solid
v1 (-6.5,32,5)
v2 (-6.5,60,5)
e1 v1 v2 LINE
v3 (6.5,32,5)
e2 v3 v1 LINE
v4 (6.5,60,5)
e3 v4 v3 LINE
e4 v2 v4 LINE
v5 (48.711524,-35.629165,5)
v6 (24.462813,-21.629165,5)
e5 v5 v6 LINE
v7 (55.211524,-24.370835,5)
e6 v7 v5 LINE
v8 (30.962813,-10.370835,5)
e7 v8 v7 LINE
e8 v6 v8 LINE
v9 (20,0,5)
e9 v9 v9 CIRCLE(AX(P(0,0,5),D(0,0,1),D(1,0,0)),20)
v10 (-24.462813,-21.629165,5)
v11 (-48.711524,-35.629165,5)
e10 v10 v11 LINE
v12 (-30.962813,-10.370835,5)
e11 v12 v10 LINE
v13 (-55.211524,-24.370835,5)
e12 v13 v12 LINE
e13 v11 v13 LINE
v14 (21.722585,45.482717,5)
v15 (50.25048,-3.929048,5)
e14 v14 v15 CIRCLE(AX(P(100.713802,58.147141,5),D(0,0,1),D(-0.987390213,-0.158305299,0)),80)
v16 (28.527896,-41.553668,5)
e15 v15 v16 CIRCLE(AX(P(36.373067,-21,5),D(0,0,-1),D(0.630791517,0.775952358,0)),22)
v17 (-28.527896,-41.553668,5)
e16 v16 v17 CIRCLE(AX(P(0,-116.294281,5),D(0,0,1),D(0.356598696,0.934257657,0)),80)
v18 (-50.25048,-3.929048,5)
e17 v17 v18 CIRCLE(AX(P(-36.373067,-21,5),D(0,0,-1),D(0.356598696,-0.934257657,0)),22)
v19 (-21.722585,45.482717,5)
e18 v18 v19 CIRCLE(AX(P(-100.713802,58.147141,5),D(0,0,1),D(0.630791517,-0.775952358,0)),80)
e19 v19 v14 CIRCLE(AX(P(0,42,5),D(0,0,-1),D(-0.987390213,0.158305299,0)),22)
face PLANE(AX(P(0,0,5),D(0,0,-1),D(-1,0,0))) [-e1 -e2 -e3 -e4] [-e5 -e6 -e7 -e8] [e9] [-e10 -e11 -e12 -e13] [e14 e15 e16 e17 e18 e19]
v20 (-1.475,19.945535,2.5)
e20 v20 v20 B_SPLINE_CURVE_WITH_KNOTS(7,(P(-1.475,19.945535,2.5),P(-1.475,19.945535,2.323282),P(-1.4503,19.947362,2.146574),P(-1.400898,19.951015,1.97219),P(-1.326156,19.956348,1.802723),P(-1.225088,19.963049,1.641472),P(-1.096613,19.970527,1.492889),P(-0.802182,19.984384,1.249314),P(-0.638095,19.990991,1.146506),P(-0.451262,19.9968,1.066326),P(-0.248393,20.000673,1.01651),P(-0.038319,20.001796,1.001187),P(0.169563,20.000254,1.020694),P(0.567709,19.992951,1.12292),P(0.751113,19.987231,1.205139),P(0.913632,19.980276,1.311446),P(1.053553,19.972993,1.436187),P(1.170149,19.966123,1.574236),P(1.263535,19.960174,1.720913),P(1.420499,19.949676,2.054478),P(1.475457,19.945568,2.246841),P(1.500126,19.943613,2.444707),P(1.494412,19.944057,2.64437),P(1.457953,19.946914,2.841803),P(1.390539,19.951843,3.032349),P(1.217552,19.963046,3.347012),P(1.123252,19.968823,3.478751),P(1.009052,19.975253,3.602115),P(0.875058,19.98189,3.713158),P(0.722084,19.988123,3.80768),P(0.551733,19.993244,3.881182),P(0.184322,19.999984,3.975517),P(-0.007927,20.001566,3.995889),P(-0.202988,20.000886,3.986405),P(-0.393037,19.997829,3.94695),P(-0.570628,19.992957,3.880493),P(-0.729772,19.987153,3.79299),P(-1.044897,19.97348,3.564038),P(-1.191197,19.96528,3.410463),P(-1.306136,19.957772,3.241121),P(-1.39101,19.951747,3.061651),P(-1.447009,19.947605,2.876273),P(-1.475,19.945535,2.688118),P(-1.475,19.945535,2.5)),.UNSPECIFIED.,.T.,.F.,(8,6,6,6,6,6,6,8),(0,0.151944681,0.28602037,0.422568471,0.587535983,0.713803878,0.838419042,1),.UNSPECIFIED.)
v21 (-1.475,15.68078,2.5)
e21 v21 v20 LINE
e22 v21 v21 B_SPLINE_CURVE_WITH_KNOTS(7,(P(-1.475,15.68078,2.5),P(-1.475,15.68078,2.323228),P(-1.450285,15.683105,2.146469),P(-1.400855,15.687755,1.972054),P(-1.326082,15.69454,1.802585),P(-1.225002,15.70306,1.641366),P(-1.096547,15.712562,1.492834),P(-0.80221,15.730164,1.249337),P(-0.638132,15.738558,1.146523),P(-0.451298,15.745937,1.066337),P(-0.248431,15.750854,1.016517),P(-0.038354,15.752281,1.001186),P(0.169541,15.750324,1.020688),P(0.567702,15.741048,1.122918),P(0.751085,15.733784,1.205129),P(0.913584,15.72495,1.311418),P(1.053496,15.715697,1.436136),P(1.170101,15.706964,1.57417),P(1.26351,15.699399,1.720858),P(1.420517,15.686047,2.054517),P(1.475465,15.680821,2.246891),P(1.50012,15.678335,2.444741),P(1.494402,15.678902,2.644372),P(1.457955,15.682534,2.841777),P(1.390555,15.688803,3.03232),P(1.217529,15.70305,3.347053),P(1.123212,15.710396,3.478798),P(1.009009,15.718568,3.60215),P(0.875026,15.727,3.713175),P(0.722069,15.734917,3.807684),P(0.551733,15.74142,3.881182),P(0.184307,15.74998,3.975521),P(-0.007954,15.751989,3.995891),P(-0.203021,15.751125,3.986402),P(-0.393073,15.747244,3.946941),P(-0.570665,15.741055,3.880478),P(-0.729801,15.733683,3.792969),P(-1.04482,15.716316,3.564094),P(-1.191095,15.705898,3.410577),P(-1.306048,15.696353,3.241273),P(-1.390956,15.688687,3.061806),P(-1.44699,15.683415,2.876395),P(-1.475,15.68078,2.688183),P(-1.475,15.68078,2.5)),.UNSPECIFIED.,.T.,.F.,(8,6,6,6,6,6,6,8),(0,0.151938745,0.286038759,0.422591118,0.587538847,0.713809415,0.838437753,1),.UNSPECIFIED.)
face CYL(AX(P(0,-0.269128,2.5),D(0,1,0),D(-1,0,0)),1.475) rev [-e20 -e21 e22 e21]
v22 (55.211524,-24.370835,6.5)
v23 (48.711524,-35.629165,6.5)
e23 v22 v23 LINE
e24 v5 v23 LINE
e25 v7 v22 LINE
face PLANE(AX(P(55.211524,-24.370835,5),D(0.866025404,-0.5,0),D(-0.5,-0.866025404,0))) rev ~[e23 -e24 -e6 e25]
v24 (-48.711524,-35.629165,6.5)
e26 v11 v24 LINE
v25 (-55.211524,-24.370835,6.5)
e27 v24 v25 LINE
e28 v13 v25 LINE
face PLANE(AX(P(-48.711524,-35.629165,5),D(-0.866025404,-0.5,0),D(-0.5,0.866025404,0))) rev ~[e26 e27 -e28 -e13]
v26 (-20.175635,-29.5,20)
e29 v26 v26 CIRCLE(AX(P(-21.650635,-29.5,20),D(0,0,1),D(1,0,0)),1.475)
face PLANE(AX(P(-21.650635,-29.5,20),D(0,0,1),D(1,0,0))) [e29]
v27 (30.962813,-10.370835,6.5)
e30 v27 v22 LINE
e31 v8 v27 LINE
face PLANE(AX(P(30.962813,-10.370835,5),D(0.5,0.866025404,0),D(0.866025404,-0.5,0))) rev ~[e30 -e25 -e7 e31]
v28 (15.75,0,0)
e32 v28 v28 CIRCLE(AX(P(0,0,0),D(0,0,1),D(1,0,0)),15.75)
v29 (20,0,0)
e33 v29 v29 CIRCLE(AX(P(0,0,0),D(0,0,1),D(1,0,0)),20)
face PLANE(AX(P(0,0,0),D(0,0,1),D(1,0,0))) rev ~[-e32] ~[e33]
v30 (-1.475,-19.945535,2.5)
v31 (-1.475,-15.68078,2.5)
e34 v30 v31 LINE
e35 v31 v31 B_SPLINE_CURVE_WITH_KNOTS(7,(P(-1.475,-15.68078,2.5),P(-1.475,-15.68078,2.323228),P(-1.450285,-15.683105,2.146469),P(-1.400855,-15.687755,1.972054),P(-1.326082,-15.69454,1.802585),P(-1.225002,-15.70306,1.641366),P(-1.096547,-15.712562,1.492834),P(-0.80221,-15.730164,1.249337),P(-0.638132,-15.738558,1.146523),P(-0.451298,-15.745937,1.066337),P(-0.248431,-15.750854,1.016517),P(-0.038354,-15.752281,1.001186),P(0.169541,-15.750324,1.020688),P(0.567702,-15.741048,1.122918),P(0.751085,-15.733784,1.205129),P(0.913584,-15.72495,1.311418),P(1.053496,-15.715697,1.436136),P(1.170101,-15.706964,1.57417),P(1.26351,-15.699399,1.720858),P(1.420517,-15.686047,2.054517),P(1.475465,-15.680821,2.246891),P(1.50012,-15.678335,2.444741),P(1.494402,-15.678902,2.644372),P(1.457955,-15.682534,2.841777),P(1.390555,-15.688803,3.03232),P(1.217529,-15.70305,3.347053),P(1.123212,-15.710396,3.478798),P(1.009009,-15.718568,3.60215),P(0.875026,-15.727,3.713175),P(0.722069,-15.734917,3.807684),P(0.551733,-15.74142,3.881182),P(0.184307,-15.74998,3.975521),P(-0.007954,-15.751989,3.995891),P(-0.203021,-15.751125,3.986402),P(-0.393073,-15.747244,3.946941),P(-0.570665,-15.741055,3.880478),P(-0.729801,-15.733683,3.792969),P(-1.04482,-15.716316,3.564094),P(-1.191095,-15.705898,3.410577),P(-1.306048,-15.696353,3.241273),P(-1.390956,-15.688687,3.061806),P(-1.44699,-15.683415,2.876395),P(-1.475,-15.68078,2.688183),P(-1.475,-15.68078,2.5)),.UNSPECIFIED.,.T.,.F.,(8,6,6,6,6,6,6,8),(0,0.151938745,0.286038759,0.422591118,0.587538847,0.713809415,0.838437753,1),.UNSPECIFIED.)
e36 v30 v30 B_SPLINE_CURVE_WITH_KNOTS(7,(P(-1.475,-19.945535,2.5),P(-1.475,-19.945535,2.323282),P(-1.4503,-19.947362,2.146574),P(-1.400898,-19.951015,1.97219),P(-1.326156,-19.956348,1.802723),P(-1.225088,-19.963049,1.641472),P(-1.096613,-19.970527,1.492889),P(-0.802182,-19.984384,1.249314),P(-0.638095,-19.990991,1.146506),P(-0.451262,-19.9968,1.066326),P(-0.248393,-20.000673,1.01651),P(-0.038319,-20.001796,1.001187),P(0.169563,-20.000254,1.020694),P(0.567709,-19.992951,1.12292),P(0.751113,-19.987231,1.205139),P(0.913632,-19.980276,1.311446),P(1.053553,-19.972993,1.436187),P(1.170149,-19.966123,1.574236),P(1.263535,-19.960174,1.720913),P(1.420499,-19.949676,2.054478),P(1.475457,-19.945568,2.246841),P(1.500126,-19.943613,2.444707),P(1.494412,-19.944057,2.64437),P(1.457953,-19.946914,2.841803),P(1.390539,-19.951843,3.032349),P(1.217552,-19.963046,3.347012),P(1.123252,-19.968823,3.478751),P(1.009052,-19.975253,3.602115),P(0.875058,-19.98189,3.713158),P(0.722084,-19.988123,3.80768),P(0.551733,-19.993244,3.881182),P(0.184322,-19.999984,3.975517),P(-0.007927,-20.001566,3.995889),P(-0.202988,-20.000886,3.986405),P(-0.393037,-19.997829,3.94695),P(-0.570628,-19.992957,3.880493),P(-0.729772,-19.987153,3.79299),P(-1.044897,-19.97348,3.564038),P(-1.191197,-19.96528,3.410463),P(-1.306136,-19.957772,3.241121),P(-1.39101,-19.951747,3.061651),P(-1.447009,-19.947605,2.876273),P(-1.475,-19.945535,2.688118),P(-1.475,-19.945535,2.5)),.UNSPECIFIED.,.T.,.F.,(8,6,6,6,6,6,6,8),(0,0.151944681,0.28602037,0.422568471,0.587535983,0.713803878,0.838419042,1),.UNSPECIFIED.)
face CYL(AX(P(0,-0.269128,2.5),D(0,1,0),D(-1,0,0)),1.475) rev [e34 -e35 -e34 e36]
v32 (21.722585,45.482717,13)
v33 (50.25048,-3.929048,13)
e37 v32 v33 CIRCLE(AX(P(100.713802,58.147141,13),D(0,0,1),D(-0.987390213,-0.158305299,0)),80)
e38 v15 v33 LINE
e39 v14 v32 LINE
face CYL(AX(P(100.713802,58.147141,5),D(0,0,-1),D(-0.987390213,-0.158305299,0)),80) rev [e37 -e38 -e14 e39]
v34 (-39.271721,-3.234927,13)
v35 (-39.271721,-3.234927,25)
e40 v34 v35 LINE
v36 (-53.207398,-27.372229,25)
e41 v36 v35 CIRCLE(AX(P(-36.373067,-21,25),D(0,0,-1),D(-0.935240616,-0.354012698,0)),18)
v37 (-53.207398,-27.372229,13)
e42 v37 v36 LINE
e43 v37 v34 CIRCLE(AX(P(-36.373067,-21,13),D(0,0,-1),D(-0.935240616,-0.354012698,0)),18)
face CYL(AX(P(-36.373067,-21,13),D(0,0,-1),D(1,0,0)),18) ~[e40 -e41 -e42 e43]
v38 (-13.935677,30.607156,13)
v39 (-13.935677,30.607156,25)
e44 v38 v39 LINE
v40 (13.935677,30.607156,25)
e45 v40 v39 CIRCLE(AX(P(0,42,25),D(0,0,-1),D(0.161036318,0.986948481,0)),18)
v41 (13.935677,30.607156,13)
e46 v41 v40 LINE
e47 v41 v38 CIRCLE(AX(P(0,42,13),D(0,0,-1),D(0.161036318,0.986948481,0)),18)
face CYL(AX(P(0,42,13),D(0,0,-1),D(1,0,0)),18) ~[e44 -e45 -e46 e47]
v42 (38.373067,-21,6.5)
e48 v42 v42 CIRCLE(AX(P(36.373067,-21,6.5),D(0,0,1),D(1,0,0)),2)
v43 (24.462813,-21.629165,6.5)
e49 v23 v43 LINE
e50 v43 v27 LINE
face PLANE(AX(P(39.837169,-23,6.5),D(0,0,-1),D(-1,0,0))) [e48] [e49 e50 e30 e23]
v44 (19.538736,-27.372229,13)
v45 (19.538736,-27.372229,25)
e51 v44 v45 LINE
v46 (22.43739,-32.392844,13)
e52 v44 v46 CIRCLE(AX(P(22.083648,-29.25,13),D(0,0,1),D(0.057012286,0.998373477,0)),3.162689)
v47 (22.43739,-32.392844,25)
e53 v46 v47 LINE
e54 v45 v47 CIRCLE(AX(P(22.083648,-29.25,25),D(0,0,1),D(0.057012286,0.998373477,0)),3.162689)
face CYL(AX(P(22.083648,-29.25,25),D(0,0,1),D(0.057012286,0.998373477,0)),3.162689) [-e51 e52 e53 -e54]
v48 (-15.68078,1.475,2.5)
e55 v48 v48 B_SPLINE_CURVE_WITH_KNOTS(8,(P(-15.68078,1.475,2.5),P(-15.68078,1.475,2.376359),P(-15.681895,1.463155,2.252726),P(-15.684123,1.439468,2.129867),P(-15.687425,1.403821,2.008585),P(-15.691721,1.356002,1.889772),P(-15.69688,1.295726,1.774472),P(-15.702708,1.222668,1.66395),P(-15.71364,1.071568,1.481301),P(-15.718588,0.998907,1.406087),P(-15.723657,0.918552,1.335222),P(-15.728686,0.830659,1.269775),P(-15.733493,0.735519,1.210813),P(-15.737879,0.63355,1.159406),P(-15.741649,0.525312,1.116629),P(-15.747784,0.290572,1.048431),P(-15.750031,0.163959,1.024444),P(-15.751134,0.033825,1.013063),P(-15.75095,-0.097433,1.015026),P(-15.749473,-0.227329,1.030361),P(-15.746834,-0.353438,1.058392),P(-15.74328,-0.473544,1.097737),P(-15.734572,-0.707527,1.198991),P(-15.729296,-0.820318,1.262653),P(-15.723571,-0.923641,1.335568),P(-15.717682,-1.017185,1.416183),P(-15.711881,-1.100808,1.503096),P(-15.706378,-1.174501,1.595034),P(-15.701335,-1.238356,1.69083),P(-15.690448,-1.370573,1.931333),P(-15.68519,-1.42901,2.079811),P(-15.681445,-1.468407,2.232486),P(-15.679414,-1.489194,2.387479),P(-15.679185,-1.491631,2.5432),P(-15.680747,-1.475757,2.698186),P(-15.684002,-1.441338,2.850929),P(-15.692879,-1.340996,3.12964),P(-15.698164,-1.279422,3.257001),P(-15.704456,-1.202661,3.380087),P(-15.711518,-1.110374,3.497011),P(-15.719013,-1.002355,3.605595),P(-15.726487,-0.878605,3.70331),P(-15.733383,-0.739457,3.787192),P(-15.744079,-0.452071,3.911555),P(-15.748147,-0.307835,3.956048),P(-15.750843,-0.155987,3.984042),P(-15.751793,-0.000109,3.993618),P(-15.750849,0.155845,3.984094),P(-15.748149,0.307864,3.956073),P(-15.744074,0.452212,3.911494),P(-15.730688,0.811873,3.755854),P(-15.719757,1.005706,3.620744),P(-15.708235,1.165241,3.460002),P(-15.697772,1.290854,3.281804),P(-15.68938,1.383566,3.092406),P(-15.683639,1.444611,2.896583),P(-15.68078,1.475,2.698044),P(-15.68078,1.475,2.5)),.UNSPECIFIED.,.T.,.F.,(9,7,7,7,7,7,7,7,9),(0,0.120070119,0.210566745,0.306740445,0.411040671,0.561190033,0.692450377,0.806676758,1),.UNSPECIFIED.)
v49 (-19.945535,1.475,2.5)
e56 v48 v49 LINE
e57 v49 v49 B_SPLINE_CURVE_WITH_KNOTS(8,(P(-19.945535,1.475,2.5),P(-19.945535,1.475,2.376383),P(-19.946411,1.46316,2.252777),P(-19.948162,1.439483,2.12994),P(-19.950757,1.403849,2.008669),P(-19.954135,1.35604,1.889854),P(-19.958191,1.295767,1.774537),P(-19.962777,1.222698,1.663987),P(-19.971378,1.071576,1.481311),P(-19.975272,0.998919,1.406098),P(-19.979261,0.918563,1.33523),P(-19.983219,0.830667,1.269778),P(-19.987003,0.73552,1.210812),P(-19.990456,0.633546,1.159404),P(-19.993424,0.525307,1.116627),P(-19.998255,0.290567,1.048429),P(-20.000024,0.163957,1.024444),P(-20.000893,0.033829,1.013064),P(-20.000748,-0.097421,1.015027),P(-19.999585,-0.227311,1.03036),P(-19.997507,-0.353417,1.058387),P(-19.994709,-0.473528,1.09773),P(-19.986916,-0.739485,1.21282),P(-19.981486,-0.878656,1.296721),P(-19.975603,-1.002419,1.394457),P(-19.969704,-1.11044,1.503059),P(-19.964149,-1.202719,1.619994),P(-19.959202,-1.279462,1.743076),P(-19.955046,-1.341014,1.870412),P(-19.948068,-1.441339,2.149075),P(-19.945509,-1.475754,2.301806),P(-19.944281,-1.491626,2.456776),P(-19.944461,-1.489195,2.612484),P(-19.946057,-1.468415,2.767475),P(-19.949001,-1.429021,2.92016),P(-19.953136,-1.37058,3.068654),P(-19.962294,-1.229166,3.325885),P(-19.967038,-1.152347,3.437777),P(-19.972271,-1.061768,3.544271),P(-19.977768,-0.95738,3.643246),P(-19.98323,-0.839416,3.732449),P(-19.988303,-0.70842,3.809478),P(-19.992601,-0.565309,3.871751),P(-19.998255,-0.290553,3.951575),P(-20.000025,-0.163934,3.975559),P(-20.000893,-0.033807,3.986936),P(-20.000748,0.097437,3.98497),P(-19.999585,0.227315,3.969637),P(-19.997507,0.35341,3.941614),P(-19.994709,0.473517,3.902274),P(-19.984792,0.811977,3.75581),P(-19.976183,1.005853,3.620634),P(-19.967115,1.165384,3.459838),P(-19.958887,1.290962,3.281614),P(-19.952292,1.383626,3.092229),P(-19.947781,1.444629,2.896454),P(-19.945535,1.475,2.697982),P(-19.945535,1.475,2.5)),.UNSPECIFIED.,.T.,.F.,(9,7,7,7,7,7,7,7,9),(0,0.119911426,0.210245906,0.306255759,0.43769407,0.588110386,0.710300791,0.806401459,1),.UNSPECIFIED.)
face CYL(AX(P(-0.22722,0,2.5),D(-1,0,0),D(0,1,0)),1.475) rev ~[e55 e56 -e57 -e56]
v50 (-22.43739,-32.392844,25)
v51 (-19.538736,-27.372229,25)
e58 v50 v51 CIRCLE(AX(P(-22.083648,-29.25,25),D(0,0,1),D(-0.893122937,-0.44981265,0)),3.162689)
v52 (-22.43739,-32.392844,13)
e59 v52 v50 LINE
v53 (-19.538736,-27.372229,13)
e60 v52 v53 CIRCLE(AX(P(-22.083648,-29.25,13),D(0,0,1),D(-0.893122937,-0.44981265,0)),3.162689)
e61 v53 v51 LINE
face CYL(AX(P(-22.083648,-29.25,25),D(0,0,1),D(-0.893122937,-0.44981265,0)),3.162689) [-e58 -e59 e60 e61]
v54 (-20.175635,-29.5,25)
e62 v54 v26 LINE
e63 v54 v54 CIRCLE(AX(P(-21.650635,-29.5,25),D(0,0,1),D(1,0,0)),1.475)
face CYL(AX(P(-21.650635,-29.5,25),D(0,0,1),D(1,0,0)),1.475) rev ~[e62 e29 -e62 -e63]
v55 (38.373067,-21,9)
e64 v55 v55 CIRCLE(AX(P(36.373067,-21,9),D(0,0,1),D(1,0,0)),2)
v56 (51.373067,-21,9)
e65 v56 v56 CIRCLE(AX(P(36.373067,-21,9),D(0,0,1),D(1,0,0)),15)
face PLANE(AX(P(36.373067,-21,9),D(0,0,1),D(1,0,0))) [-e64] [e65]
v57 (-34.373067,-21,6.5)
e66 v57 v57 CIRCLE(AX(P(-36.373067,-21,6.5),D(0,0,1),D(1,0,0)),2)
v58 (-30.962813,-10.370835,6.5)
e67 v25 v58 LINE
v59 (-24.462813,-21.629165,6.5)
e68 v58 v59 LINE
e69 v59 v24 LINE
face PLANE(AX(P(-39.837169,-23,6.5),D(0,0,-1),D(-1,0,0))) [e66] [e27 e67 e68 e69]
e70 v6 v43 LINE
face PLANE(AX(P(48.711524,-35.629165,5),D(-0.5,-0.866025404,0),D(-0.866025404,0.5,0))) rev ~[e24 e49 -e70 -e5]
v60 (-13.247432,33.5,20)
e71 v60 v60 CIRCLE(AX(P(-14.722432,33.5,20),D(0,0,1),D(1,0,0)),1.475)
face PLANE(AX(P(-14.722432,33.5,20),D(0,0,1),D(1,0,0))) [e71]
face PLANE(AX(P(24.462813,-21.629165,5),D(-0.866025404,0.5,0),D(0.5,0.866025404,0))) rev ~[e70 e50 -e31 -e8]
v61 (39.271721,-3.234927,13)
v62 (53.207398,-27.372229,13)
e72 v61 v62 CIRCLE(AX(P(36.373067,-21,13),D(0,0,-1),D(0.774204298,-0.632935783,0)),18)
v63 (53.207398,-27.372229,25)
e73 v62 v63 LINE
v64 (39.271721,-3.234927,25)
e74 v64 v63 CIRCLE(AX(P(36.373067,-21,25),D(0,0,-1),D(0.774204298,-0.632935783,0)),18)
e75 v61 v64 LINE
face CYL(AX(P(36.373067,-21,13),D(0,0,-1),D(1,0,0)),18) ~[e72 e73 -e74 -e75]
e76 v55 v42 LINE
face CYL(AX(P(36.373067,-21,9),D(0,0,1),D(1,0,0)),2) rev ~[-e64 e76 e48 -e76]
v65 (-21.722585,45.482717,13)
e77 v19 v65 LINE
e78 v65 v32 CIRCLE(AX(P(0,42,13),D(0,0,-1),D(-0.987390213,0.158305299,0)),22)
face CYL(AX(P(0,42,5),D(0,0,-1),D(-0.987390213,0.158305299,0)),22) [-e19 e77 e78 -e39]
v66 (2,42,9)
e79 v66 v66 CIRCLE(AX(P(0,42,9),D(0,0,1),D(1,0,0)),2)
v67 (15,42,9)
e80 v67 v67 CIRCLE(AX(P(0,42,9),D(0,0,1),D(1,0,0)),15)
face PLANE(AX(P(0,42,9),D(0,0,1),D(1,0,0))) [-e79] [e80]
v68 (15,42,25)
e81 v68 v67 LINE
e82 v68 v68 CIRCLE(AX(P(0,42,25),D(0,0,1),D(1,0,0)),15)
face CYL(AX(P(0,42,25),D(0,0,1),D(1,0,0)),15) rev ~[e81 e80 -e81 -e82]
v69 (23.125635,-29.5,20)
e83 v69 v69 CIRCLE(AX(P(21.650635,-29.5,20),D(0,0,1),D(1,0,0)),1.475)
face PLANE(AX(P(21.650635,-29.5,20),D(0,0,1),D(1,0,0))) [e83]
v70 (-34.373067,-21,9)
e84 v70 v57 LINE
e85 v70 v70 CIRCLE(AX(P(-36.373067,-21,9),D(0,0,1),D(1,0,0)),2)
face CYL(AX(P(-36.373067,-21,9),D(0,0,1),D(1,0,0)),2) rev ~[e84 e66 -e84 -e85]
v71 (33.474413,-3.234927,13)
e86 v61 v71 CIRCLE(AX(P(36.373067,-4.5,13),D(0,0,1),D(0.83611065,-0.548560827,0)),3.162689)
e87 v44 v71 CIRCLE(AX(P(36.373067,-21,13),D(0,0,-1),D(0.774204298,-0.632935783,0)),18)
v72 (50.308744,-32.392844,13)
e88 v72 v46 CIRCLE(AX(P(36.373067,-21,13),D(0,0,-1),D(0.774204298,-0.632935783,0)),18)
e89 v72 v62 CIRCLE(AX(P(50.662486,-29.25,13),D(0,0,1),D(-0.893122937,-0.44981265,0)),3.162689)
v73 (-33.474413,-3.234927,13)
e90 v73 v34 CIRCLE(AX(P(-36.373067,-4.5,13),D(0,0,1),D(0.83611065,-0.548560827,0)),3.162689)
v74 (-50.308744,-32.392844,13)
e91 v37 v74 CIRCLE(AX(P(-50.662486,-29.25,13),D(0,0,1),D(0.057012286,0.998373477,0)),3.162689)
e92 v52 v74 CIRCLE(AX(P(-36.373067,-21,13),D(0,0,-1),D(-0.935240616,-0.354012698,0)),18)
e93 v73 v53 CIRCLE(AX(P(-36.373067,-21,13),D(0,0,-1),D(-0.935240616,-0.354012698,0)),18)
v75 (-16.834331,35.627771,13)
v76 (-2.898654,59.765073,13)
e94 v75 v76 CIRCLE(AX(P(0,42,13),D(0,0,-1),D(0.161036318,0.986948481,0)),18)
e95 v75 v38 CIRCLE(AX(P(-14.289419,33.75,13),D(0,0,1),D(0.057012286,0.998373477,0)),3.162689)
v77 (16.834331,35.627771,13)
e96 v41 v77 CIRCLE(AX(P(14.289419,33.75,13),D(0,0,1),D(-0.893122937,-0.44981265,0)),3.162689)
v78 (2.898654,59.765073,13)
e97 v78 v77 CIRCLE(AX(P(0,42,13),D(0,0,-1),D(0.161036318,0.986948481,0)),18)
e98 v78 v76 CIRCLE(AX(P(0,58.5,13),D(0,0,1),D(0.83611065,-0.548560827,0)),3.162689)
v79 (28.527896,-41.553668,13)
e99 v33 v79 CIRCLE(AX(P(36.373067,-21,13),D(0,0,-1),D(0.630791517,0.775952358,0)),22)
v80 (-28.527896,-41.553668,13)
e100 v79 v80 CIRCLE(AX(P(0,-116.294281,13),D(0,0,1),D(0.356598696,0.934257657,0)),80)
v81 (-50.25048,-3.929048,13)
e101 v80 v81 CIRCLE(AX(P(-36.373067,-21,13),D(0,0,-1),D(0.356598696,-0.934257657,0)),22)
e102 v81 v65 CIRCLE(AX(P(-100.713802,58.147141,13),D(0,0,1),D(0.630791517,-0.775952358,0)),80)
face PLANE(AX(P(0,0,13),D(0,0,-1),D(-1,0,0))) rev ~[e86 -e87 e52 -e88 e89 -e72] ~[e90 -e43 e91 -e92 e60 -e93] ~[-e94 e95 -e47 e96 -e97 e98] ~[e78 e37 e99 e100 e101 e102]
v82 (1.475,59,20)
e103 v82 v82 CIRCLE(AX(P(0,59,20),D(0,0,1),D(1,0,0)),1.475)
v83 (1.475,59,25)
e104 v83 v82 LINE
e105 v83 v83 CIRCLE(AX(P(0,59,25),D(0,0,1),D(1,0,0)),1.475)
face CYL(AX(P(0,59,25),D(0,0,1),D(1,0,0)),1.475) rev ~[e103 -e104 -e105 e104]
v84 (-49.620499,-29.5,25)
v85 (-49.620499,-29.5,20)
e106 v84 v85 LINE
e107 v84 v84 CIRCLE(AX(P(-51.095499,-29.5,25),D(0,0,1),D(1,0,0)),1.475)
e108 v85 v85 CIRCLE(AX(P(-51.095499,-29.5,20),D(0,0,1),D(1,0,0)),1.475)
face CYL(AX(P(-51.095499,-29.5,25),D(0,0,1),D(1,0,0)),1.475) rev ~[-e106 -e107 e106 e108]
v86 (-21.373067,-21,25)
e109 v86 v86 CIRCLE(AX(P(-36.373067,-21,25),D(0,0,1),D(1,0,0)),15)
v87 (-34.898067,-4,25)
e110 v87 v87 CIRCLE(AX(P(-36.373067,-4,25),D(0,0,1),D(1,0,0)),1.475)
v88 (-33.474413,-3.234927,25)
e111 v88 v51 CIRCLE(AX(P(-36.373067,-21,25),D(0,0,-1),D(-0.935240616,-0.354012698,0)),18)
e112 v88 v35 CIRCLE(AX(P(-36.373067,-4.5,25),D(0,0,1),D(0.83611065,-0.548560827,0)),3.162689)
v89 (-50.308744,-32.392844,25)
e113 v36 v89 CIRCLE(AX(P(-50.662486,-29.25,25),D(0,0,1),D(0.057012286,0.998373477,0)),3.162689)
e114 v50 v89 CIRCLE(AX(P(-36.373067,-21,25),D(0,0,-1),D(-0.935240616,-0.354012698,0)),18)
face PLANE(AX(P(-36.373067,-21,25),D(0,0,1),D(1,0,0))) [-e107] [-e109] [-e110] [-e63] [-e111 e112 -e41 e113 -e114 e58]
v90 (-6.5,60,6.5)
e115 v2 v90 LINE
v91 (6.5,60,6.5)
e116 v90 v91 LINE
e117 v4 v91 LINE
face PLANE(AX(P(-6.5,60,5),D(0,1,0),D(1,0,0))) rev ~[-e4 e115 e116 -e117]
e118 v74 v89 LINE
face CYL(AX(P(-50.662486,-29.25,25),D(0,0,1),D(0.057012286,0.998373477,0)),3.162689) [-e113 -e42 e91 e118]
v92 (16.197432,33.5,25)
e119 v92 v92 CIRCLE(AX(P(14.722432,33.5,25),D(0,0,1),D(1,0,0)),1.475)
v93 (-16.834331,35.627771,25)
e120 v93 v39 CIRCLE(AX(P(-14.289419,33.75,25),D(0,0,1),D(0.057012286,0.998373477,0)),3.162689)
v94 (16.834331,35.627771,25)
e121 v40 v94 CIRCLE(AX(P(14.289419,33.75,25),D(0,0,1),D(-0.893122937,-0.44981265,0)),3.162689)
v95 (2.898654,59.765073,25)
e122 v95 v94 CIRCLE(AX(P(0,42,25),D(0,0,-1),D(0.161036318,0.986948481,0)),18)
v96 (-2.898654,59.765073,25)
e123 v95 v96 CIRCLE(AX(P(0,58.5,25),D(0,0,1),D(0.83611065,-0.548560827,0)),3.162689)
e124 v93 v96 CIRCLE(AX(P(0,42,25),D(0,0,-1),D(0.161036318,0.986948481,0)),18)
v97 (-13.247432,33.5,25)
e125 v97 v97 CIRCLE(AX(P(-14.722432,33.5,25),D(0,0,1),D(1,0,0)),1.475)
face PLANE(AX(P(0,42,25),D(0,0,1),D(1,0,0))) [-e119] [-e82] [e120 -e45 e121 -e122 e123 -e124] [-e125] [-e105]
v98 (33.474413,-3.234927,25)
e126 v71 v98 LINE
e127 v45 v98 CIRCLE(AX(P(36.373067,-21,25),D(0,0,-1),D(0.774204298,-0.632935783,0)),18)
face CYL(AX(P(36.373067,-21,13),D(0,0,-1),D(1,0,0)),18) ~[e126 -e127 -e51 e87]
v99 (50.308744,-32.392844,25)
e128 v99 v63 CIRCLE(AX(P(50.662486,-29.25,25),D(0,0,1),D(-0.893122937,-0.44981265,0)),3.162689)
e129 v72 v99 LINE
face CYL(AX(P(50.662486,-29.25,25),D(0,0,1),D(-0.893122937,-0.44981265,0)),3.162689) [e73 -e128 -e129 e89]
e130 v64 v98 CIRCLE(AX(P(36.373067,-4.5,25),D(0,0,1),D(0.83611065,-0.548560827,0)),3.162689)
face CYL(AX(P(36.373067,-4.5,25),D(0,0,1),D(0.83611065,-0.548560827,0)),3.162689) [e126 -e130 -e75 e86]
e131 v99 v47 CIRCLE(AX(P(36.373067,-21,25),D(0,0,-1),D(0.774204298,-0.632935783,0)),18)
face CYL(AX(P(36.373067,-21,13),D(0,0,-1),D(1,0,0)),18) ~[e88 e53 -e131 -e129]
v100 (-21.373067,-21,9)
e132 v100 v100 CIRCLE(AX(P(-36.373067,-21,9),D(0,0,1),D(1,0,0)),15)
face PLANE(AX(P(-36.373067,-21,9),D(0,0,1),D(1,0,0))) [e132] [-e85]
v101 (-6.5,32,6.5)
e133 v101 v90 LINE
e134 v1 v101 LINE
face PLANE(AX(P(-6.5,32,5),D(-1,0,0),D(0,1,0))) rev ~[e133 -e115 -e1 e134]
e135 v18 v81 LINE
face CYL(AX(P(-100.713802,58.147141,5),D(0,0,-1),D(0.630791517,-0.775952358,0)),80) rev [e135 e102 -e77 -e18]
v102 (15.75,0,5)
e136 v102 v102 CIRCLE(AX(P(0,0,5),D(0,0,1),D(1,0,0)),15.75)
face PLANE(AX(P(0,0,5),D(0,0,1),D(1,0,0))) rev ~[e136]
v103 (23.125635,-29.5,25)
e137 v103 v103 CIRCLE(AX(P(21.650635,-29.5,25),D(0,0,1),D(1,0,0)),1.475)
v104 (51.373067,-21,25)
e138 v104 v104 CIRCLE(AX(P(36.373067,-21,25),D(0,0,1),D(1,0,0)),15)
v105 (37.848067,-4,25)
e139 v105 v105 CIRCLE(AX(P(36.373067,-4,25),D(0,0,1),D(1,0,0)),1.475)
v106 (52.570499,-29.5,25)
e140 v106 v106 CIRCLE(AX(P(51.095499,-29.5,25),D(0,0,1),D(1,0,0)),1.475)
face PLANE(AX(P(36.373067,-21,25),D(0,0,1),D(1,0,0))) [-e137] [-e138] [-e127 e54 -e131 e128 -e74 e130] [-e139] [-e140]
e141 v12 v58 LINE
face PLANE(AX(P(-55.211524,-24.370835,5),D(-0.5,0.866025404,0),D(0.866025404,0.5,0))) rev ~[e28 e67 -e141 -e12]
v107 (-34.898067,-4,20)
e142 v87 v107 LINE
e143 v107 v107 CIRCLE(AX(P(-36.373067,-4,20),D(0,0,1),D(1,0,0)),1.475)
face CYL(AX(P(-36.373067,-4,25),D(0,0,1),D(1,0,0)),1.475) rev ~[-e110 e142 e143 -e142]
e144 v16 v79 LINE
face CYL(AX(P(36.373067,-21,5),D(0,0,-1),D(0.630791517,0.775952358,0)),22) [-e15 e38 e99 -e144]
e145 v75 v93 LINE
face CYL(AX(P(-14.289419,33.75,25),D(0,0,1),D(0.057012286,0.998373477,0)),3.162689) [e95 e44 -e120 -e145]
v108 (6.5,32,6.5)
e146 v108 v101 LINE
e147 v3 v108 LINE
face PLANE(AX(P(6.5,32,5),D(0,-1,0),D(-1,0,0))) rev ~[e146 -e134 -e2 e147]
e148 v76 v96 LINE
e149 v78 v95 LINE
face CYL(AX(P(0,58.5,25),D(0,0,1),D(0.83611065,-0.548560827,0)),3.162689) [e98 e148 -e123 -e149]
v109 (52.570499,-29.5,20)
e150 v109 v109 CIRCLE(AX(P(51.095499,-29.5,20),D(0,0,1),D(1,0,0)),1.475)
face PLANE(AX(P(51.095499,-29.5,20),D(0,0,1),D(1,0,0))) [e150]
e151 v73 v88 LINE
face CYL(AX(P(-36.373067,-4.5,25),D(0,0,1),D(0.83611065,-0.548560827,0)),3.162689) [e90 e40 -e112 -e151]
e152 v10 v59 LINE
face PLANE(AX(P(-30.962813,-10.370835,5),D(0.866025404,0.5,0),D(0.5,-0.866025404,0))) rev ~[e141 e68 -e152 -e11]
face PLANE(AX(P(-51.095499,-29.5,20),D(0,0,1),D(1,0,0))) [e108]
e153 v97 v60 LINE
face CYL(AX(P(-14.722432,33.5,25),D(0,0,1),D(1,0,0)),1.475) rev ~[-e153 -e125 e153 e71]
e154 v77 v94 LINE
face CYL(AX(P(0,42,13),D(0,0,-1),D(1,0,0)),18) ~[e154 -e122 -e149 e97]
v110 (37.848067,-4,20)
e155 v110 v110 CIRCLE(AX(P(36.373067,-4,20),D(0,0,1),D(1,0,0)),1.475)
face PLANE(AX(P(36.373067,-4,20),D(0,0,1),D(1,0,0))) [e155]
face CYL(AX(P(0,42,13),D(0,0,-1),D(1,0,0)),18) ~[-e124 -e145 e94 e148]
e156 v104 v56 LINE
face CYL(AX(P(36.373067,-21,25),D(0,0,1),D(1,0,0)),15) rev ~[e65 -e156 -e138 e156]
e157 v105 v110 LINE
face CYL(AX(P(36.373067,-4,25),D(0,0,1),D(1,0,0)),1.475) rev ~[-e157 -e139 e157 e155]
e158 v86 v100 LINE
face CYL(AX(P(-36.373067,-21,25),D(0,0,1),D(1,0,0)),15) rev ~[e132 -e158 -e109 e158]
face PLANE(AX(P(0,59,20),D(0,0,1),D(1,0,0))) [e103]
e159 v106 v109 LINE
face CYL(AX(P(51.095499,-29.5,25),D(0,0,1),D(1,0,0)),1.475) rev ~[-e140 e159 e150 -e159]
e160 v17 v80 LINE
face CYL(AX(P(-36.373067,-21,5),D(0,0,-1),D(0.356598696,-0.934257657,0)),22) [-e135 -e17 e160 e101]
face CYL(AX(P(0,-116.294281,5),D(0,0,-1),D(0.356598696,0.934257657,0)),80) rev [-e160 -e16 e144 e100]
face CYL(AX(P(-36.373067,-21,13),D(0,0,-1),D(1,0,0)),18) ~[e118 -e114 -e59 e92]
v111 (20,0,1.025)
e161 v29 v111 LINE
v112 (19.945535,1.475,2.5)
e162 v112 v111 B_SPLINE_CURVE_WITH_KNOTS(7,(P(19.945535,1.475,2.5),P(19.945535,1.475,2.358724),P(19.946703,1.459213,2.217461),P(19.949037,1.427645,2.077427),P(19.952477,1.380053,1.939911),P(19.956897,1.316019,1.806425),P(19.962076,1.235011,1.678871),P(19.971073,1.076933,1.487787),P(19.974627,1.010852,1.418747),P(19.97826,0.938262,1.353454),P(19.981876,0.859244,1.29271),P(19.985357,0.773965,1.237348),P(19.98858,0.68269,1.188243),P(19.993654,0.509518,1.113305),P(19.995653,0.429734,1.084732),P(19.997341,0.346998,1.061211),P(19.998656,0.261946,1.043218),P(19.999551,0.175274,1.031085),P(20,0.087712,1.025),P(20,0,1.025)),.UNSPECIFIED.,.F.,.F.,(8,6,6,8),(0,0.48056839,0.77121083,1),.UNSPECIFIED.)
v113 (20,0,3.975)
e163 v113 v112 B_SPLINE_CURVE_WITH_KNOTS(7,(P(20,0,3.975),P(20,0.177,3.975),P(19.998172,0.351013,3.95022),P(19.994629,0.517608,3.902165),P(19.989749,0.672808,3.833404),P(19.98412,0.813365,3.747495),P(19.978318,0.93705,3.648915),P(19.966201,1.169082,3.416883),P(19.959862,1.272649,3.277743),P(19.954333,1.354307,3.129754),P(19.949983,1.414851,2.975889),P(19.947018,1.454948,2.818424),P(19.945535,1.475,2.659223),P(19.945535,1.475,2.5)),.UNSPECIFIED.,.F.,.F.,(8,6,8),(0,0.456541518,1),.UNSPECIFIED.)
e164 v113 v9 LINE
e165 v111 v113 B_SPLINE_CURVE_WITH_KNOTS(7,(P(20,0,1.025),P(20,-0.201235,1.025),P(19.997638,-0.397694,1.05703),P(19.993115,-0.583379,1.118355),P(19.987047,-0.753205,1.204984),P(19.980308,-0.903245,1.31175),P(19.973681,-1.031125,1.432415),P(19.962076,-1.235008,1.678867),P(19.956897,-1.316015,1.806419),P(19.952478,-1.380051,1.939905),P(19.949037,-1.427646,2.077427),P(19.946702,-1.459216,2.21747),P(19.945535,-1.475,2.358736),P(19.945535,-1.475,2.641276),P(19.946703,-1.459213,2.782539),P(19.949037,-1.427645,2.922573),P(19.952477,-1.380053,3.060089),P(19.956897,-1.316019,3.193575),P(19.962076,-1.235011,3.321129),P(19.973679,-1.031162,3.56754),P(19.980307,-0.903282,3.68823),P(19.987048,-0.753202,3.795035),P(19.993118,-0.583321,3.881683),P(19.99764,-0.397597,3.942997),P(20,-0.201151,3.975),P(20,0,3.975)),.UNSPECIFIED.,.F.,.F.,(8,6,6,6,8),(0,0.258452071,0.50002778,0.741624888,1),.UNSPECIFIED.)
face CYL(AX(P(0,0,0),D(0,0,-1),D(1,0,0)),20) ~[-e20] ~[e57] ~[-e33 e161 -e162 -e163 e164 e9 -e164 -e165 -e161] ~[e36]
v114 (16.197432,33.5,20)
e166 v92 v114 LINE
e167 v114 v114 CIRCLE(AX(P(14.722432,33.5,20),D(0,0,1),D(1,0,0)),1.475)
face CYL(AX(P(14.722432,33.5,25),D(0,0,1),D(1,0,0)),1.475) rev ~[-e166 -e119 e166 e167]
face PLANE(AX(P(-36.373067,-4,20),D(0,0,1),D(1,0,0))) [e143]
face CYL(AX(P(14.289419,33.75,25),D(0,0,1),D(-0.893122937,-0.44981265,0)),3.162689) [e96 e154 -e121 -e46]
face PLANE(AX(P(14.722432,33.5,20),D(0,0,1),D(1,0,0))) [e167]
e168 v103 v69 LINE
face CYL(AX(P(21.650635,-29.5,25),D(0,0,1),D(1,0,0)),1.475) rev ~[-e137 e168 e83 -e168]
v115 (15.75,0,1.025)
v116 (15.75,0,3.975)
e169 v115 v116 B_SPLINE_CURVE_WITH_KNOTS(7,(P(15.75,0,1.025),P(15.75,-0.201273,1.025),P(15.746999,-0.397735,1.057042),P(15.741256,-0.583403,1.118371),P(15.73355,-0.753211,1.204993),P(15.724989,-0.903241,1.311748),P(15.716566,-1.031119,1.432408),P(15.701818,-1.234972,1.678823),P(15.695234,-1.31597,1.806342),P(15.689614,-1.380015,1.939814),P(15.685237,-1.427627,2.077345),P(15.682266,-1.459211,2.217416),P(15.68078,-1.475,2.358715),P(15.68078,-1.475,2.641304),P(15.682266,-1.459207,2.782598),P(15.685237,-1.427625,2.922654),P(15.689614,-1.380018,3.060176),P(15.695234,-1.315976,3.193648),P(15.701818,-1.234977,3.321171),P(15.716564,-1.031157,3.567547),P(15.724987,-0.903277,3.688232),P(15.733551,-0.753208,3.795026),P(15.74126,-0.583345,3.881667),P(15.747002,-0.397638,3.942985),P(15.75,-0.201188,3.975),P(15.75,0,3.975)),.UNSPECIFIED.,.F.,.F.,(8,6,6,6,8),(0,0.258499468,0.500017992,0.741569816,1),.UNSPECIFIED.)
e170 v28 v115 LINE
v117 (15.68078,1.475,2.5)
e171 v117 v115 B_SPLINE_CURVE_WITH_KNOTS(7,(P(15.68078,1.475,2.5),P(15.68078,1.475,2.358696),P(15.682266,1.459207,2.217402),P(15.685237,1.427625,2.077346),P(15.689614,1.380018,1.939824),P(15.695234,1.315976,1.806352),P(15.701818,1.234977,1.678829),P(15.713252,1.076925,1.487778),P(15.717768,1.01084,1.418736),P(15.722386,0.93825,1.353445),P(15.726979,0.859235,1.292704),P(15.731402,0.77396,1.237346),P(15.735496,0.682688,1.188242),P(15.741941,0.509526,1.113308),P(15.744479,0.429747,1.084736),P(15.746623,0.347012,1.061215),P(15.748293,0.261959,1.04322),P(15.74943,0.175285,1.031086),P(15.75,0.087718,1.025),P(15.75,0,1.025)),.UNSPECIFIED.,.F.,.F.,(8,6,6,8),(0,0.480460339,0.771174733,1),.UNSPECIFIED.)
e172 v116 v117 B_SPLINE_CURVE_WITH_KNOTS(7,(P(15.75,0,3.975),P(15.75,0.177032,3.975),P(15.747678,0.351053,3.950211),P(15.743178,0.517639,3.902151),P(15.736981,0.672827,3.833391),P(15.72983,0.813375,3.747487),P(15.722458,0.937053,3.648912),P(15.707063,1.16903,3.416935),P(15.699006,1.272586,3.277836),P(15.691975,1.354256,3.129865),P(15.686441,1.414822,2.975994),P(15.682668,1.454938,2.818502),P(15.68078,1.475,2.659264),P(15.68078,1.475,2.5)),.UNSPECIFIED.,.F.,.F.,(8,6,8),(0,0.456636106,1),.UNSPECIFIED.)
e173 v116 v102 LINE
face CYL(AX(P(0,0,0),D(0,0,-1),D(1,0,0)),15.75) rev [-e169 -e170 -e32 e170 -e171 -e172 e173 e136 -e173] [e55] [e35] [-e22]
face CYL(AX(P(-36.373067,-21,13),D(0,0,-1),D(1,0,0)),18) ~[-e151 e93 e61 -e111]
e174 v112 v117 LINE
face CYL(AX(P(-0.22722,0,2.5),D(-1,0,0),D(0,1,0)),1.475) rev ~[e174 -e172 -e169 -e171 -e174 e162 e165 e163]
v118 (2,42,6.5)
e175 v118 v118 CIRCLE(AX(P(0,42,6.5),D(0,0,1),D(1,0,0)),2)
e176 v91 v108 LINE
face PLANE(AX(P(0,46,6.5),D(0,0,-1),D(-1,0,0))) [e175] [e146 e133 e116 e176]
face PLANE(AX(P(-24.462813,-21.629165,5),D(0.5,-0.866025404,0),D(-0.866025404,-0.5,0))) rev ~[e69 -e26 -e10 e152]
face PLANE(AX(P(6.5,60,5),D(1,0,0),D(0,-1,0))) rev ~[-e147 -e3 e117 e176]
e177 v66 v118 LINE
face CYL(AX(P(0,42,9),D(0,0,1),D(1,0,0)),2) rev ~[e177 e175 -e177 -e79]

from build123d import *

# Parameters (mm, degrees)
SKETCH_1_R          = 20
SKETCH_1_R_2        = 15.75
EXTRUDE_1_DEPTH     = 5
EXTRUDE_2_DEPTH     = 8
SKETCH_3_R          = 18
EXTRUDE_3_DEPTH     = 12
EXTRUDE_6_DEPTH     = 8
SKETCH_4_R          = 15
CUT_EXTRUDE_1_DEPTH = 16
SKETCH_7_R          = 2
CUT_EXTRUDE_2_DEPTH = 10
EXTRUDE_7_REACH     = 27
SKETCH_9_R          = 1.475
CUT_EXTRUDE_3_DEPTH = 5
SKETCH_10_W         = 1.475
SKETCH_10_H         = 47.880376143
SKETCH_11_W         = 47.783072431
SKETCH_11_H         = 1.475
SKETCH_12_R         = 2
CUT_EXTRUDE_4_DEPTH = 1.5


with BuildPart() as part:
    # 草图1 → 凸台-拉伸1 (new body)
    with BuildSketch(Plane.XY):
        Circle(SKETCH_1_R)
        Circle(SKETCH_1_R_2, mode=Mode.SUBTRACT)
    extrude(amount=EXTRUDE_1_DEPTH)

    # 草图2 → 凸台-拉伸2 (add)
    with BuildSketch(Plane.XY.offset(5)):
        with BuildLine():
            ThreePointArc((0, -25.892443989), (42.435244785, -24.5), (22.423514261, 12.946221995))
            ThreePointArc((22.423514261, 12.946221995), (0, 49), (-22.423514261, 12.946221995))
            ThreePointArc((-22.423514261, 12.946221995), (-42.435244785, -24.5), (0, -25.892443989))
        make_face()
    extrude(amount=EXTRUDE_2_DEPTH)

    # 草图3 → 凸台-拉伸3 (add)
    with BuildSketch(Plane.XY.offset(13)):
        with Locations((0, 42)):
            Circle(SKETCH_3_R)
        with Locations((36.373066959, -21)):
            Circle(SKETCH_3_R)
        with Locations((-36.373066959, -21)):
            Circle(SKETCH_3_R)
    extrude(amount=EXTRUDE_3_DEPTH)

    # 草图8 → 凸台-拉伸6 (add)
    with BuildSketch(Plane(origin=(0, 0, 5), x_dir=(-1, 0, 0), z_dir=(0, 0, -1))):
        with BuildLine():
            ThreePointArc((28.527895654, -41.553668461), (55.425625842, -32), (50.250480335, -3.929048123))
            ThreePointArc((50.250480335, -3.929048123), (31.431769398, 18.147140523), (21.72258468, 45.482716583))
            ThreePointArc((21.72258468, 45.482716583), (0, 64), (-21.72258468, 45.482716583))
            ThreePointArc((-21.72258468, 45.482716583), (-31.431769398, 18.147140523), (-50.250480335, -3.929048123))
            ThreePointArc((-50.250480335, -3.929048123), (-55.425625842, -32), (-28.527895654, -41.553668461))
            ThreePointArc((-28.527895654, -41.553668461), (0, -36.294281046), (28.527895654, -41.553668461))
        make_face()
        with BuildLine():
            ThreePointArc((22.423514261, 12.946221995), (42.435244785, -24.5), (0, -25.892443989))
            ThreePointArc((0, -25.892443989), (-42.435244785, -24.5), (-22.423514261, 12.946221995))
            ThreePointArc((-22.423514261, 12.946221995), (0, 49), (22.423514261, 12.946221995))
        make_face(mode=Mode.SUBTRACT)
    extrude(amount=-EXTRUDE_6_DEPTH)

    # 草图4 → 切除-拉伸1 (cut)
    with BuildSketch(Plane.XY.offset(25)):
        with Locations((0, 42)):
            Circle(SKETCH_4_R)
        with Locations((36.373066959, -21)):
            Circle(SKETCH_4_R)
        with Locations((-36.373066959, -21)):
            Circle(SKETCH_4_R)
    extrude(amount=-CUT_EXTRUDE_1_DEPTH, mode=Mode.SUBTRACT)

    # 草图7 → 切除-拉伸2 (cut)
    with BuildSketch(Plane.XY.offset(9)):
        with Locations((0, 42)):
            Circle(SKETCH_7_R)
        with Locations((36.373066959, -21)):
            Circle(SKETCH_7_R)
        with Locations((-36.373066959, -21)):
            Circle(SKETCH_7_R)
    extrude(amount=-CUT_EXTRUDE_2_DEPTH, mode=Mode.SUBTRACT)

    # 草图6 → 凸台-拉伸7 (add, up to next)
    with BuildSketch(Plane.XY.offset(25), mode=Mode.PRIVATE) as extrude_7_sk1:
        with BuildLine():
            ThreePointArc((2.644358031, 56.765072658), (0, 61.66268909), (-2.644358031, 56.765072658))
            ThreePointArc((-2.644358031, 56.765072658), (0, 57), (2.644358031, 56.765072658))
        make_face()
    extrude_7_tool1 = extrude(extrude_7_sk1.sketch, amount=-EXTRUDE_7_REACH, mode=Mode.PRIVATE) - part.part
    add(extrude_7_tool1.solids().sort_by_distance((0, 59.041522, 25))[0])
    # 草图6 → 凸台-拉伸7 (add, up to next)
    with BuildSketch(Plane.XY.offset(25), mode=Mode.PRIVATE) as extrude_7_sk2:
        with BuildLine():
            ThreePointArc((11.464748995, 32.327382439), (17.028388258, 32.168655455), (14.109107026, 36.907544902))
            ThreePointArc((14.109107026, 36.907544902), (12.990381057, 34.5), (11.464748995, 32.327382439))
        make_face()
    extrude_7_tool2 = extrude(extrude_7_sk2.sketch, amount=-EXTRUDE_7_REACH, mode=Mode.PRIVATE) - part.part
    add(extrude_7_tool2.solids().sort_by_distance((14.758391, 33.479239, 25))[0])
    # 草图6 → 凸台-拉伸7 (add, up to next)
    with BuildSketch(Plane.XY.offset(25), mode=Mode.PRIVATE) as extrude_7_sk3:
        with BuildLine():
            ThreePointArc((-14.109107026, 36.907544902), (-17.028388258, 32.168655455), (-11.464748995, 32.327382439))
            ThreePointArc((-11.464748995, 32.327382439), (-12.990381057, 34.5), (-14.109107026, 36.907544902))
        make_face()
    extrude_7_tool3 = extrude(extrude_7_sk3.sketch, amount=-EXTRUDE_7_REACH, mode=Mode.PRIVATE) - part.part
    add(extrude_7_tool3.solids().sort_by_distance((-14.758391, 33.479239, 25))[0])
    # 草图6 → 凸台-拉伸7 (add, up to next)
    with BuildSketch(Plane.XY.offset(25), mode=Mode.PRIVATE) as extrude_7_sk4:
        with BuildLine():
            ThreePointArc((47.837815954, -30.672617561), (53.401455217, -30.831344545), (50.482173985, -26.092455098))
            ThreePointArc((50.482173985, -26.092455098), (49.363448016, -28.5), (47.837815954, -30.672617561))
        make_face()
    extrude_7_tool4 = extrude(extrude_7_sk4.sketch, amount=-EXTRUDE_7_REACH, mode=Mode.PRIVATE) - part.part
    add(extrude_7_tool4.solids().sort_by_distance((51.131457, -29.520761, 25))[0])
    # 草图6 → 凸台-拉伸7 (add, up to next)
    with BuildSketch(Plane.XY.offset(25), mode=Mode.PRIVATE) as extrude_7_sk5:
        with BuildLine():
            ThreePointArc((22.263959933, -26.092455098), (19.344678701, -30.831344545), (24.908317964, -30.672617561))
            ThreePointArc((24.908317964, -30.672617561), (23.382685902, -28.5), (22.263959933, -26.092455098))
        make_face()
    extrude_7_tool5 = extrude(extrude_7_sk5.sketch, amount=-EXTRUDE_7_REACH, mode=Mode.PRIVATE) - part.part
    add(extrude_7_tool5.solids().sort_by_distance((21.614676, -29.520761, 25))[0])
    # 草图6 → 凸台-拉伸7 (add, up to next)
    with BuildSketch(Plane.XY.offset(25), mode=Mode.PRIVATE) as extrude_7_sk6:
        with BuildLine():
            ThreePointArc((39.01742499, -6.234927342), (36.373066959, -1.33731091), (33.728708928, -6.234927342))
            ThreePointArc((33.728708928, -6.234927342), (36.373066959, -6), (39.01742499, -6.234927342))
        make_face()
    extrude_7_tool6 = extrude(extrude_7_sk6.sketch, amount=-EXTRUDE_7_REACH, mode=Mode.PRIVATE) - part.part
    add(extrude_7_tool6.solids().sort_by_distance((36.373067, -3.958478, 25))[0])
    # 草图6 → 凸台-拉伸7 (add, up to next)
    with BuildSketch(Plane.XY.offset(25), mode=Mode.PRIVATE) as extrude_7_sk7:
        with BuildLine():
            ThreePointArc((-50.482173985, -26.092455098), (-53.401455217, -30.831344545), (-47.837815954, -30.672617561))
            ThreePointArc((-47.837815954, -30.672617561), (-49.363448016, -28.5), (-50.482173985, -26.092455098))
        make_face()
    extrude_7_tool7 = extrude(extrude_7_sk7.sketch, amount=-EXTRUDE_7_REACH, mode=Mode.PRIVATE) - part.part
    add(extrude_7_tool7.solids().sort_by_distance((-51.131457, -29.520761, 25))[0])
    # 草图6 → 凸台-拉伸7 (add, up to next)
    with BuildSketch(Plane.XY.offset(25), mode=Mode.PRIVATE) as extrude_7_sk8:
        with BuildLine():
            ThreePointArc((-33.728708928, -6.234927342), (-36.373066959, -1.33731091), (-39.01742499, -6.234927342))
            ThreePointArc((-39.01742499, -6.234927342), (-36.373066959, -6), (-33.728708928, -6.234927342))
        make_face()
    extrude_7_tool8 = extrude(extrude_7_sk8.sketch, amount=-EXTRUDE_7_REACH, mode=Mode.PRIVATE) - part.part
    add(extrude_7_tool8.solids().sort_by_distance((-36.373067, -3.958478, 25))[0])
    # 草图6 → 凸台-拉伸7 (add, up to next)
    with BuildSketch(Plane.XY.offset(25), mode=Mode.PRIVATE) as extrude_7_sk9:
        with BuildLine():
            ThreePointArc((-24.908317964, -30.672617561), (-19.344678701, -30.831344545), (-22.263959933, -26.092455098))
            ThreePointArc((-22.263959933, -26.092455098), (-23.382685902, -28.5), (-24.908317964, -30.672617561))
        make_face()
    extrude_7_tool9 = extrude(extrude_7_sk9.sketch, amount=-EXTRUDE_7_REACH, mode=Mode.PRIVATE) - part.part
    add(extrude_7_tool9.solids().sort_by_distance((-21.614676, -29.520761, 25))[0])

    # 草图9 → 切除-拉伸3 (cut)
    with BuildSketch(Plane.XY.offset(25)):
        with Locations((0, 59)):
            Circle(SKETCH_9_R)
        with Locations((14.722431864, 33.5)):
            Circle(SKETCH_9_R)
        with Locations((-14.722431864, 33.5)):
            Circle(SKETCH_9_R)
        with Locations((51.095498823, -29.5)):
            Circle(SKETCH_9_R)
        with Locations((21.650635095, -29.5)):
            Circle(SKETCH_9_R)
        with Locations((36.373066959, -4)):
            Circle(SKETCH_9_R)
        with Locations((-51.095498823, -29.5)):
            Circle(SKETCH_9_R)
        with Locations((-36.373066959, -4)):
            Circle(SKETCH_9_R)
        with Locations((-21.650635095, -29.5)):
            Circle(SKETCH_9_R)
    extrude(amount=-CUT_EXTRUDE_3_DEPTH, mode=Mode.SUBTRACT)

    # 草图10 → 切除-旋转1 (revolve, cut)
    with BuildSketch(Plane(origin=(0, 0, 2.5), x_dir=(-1, 0, 0), z_dir=(0, 0, -1))):
        with Locations((0.7375, -0.269128361)):
            Rectangle(SKETCH_10_W, SKETCH_10_H)
    revolve(axis=Axis((0, 26.597082696, 2.5), (0, -1, 0)), mode=Mode.SUBTRACT)

    # 草图11 → 切除-旋转2 (revolve, cut)
    with BuildSketch(Plane(origin=(0, 0, 2.5), x_dir=(-1, 0, 0), z_dir=(0, 0, -1))):
        with Locations((0.227220258, 0.7375)):
            Rectangle(SKETCH_11_W, SKETCH_11_H)
    revolve(axis=Axis((35.344622551, 0, 2.5), (-1, 0, 0)), mode=Mode.SUBTRACT)

    # 草图12 → 切除-拉伸4 (cut)
    with BuildSketch(Plane(origin=(0, 0, 5), x_dir=(-1, 0, 0), z_dir=(0, 0, -1))):
        Polygon((-6.5, 32), (0, 32), (6.5, 32), (6.5, 60), (-6.5, 60), align=None)
        with Locations((0, 42)):
            Circle(SKETCH_12_R, mode=Mode.SUBTRACT)
        Polygon((-30.962812921, -10.370834875), (-55.211524227, -24.370834875), (-48.711524227, -35.629165125), (-24.462812921, -21.629165125), (-27.712812921, -16), align=None)
        with Locations((-36.373066959, -21)):
            Circle(SKETCH_12_R, mode=Mode.SUBTRACT)
        Polygon((24.462812921, -21.629165125), (48.711524227, -35.629165125), (55.211524227, -24.370834875), (30.962812921, -10.370834875), (27.712812921, -16), align=None)
        with Locations((36.373066959, -21)):
            Circle(SKETCH_12_R, mode=Mode.SUBTRACT)
    extrude(amount=-CUT_EXTRUDE_4_DEPTH, mode=Mode.SUBTRACT)


solid = part.part
